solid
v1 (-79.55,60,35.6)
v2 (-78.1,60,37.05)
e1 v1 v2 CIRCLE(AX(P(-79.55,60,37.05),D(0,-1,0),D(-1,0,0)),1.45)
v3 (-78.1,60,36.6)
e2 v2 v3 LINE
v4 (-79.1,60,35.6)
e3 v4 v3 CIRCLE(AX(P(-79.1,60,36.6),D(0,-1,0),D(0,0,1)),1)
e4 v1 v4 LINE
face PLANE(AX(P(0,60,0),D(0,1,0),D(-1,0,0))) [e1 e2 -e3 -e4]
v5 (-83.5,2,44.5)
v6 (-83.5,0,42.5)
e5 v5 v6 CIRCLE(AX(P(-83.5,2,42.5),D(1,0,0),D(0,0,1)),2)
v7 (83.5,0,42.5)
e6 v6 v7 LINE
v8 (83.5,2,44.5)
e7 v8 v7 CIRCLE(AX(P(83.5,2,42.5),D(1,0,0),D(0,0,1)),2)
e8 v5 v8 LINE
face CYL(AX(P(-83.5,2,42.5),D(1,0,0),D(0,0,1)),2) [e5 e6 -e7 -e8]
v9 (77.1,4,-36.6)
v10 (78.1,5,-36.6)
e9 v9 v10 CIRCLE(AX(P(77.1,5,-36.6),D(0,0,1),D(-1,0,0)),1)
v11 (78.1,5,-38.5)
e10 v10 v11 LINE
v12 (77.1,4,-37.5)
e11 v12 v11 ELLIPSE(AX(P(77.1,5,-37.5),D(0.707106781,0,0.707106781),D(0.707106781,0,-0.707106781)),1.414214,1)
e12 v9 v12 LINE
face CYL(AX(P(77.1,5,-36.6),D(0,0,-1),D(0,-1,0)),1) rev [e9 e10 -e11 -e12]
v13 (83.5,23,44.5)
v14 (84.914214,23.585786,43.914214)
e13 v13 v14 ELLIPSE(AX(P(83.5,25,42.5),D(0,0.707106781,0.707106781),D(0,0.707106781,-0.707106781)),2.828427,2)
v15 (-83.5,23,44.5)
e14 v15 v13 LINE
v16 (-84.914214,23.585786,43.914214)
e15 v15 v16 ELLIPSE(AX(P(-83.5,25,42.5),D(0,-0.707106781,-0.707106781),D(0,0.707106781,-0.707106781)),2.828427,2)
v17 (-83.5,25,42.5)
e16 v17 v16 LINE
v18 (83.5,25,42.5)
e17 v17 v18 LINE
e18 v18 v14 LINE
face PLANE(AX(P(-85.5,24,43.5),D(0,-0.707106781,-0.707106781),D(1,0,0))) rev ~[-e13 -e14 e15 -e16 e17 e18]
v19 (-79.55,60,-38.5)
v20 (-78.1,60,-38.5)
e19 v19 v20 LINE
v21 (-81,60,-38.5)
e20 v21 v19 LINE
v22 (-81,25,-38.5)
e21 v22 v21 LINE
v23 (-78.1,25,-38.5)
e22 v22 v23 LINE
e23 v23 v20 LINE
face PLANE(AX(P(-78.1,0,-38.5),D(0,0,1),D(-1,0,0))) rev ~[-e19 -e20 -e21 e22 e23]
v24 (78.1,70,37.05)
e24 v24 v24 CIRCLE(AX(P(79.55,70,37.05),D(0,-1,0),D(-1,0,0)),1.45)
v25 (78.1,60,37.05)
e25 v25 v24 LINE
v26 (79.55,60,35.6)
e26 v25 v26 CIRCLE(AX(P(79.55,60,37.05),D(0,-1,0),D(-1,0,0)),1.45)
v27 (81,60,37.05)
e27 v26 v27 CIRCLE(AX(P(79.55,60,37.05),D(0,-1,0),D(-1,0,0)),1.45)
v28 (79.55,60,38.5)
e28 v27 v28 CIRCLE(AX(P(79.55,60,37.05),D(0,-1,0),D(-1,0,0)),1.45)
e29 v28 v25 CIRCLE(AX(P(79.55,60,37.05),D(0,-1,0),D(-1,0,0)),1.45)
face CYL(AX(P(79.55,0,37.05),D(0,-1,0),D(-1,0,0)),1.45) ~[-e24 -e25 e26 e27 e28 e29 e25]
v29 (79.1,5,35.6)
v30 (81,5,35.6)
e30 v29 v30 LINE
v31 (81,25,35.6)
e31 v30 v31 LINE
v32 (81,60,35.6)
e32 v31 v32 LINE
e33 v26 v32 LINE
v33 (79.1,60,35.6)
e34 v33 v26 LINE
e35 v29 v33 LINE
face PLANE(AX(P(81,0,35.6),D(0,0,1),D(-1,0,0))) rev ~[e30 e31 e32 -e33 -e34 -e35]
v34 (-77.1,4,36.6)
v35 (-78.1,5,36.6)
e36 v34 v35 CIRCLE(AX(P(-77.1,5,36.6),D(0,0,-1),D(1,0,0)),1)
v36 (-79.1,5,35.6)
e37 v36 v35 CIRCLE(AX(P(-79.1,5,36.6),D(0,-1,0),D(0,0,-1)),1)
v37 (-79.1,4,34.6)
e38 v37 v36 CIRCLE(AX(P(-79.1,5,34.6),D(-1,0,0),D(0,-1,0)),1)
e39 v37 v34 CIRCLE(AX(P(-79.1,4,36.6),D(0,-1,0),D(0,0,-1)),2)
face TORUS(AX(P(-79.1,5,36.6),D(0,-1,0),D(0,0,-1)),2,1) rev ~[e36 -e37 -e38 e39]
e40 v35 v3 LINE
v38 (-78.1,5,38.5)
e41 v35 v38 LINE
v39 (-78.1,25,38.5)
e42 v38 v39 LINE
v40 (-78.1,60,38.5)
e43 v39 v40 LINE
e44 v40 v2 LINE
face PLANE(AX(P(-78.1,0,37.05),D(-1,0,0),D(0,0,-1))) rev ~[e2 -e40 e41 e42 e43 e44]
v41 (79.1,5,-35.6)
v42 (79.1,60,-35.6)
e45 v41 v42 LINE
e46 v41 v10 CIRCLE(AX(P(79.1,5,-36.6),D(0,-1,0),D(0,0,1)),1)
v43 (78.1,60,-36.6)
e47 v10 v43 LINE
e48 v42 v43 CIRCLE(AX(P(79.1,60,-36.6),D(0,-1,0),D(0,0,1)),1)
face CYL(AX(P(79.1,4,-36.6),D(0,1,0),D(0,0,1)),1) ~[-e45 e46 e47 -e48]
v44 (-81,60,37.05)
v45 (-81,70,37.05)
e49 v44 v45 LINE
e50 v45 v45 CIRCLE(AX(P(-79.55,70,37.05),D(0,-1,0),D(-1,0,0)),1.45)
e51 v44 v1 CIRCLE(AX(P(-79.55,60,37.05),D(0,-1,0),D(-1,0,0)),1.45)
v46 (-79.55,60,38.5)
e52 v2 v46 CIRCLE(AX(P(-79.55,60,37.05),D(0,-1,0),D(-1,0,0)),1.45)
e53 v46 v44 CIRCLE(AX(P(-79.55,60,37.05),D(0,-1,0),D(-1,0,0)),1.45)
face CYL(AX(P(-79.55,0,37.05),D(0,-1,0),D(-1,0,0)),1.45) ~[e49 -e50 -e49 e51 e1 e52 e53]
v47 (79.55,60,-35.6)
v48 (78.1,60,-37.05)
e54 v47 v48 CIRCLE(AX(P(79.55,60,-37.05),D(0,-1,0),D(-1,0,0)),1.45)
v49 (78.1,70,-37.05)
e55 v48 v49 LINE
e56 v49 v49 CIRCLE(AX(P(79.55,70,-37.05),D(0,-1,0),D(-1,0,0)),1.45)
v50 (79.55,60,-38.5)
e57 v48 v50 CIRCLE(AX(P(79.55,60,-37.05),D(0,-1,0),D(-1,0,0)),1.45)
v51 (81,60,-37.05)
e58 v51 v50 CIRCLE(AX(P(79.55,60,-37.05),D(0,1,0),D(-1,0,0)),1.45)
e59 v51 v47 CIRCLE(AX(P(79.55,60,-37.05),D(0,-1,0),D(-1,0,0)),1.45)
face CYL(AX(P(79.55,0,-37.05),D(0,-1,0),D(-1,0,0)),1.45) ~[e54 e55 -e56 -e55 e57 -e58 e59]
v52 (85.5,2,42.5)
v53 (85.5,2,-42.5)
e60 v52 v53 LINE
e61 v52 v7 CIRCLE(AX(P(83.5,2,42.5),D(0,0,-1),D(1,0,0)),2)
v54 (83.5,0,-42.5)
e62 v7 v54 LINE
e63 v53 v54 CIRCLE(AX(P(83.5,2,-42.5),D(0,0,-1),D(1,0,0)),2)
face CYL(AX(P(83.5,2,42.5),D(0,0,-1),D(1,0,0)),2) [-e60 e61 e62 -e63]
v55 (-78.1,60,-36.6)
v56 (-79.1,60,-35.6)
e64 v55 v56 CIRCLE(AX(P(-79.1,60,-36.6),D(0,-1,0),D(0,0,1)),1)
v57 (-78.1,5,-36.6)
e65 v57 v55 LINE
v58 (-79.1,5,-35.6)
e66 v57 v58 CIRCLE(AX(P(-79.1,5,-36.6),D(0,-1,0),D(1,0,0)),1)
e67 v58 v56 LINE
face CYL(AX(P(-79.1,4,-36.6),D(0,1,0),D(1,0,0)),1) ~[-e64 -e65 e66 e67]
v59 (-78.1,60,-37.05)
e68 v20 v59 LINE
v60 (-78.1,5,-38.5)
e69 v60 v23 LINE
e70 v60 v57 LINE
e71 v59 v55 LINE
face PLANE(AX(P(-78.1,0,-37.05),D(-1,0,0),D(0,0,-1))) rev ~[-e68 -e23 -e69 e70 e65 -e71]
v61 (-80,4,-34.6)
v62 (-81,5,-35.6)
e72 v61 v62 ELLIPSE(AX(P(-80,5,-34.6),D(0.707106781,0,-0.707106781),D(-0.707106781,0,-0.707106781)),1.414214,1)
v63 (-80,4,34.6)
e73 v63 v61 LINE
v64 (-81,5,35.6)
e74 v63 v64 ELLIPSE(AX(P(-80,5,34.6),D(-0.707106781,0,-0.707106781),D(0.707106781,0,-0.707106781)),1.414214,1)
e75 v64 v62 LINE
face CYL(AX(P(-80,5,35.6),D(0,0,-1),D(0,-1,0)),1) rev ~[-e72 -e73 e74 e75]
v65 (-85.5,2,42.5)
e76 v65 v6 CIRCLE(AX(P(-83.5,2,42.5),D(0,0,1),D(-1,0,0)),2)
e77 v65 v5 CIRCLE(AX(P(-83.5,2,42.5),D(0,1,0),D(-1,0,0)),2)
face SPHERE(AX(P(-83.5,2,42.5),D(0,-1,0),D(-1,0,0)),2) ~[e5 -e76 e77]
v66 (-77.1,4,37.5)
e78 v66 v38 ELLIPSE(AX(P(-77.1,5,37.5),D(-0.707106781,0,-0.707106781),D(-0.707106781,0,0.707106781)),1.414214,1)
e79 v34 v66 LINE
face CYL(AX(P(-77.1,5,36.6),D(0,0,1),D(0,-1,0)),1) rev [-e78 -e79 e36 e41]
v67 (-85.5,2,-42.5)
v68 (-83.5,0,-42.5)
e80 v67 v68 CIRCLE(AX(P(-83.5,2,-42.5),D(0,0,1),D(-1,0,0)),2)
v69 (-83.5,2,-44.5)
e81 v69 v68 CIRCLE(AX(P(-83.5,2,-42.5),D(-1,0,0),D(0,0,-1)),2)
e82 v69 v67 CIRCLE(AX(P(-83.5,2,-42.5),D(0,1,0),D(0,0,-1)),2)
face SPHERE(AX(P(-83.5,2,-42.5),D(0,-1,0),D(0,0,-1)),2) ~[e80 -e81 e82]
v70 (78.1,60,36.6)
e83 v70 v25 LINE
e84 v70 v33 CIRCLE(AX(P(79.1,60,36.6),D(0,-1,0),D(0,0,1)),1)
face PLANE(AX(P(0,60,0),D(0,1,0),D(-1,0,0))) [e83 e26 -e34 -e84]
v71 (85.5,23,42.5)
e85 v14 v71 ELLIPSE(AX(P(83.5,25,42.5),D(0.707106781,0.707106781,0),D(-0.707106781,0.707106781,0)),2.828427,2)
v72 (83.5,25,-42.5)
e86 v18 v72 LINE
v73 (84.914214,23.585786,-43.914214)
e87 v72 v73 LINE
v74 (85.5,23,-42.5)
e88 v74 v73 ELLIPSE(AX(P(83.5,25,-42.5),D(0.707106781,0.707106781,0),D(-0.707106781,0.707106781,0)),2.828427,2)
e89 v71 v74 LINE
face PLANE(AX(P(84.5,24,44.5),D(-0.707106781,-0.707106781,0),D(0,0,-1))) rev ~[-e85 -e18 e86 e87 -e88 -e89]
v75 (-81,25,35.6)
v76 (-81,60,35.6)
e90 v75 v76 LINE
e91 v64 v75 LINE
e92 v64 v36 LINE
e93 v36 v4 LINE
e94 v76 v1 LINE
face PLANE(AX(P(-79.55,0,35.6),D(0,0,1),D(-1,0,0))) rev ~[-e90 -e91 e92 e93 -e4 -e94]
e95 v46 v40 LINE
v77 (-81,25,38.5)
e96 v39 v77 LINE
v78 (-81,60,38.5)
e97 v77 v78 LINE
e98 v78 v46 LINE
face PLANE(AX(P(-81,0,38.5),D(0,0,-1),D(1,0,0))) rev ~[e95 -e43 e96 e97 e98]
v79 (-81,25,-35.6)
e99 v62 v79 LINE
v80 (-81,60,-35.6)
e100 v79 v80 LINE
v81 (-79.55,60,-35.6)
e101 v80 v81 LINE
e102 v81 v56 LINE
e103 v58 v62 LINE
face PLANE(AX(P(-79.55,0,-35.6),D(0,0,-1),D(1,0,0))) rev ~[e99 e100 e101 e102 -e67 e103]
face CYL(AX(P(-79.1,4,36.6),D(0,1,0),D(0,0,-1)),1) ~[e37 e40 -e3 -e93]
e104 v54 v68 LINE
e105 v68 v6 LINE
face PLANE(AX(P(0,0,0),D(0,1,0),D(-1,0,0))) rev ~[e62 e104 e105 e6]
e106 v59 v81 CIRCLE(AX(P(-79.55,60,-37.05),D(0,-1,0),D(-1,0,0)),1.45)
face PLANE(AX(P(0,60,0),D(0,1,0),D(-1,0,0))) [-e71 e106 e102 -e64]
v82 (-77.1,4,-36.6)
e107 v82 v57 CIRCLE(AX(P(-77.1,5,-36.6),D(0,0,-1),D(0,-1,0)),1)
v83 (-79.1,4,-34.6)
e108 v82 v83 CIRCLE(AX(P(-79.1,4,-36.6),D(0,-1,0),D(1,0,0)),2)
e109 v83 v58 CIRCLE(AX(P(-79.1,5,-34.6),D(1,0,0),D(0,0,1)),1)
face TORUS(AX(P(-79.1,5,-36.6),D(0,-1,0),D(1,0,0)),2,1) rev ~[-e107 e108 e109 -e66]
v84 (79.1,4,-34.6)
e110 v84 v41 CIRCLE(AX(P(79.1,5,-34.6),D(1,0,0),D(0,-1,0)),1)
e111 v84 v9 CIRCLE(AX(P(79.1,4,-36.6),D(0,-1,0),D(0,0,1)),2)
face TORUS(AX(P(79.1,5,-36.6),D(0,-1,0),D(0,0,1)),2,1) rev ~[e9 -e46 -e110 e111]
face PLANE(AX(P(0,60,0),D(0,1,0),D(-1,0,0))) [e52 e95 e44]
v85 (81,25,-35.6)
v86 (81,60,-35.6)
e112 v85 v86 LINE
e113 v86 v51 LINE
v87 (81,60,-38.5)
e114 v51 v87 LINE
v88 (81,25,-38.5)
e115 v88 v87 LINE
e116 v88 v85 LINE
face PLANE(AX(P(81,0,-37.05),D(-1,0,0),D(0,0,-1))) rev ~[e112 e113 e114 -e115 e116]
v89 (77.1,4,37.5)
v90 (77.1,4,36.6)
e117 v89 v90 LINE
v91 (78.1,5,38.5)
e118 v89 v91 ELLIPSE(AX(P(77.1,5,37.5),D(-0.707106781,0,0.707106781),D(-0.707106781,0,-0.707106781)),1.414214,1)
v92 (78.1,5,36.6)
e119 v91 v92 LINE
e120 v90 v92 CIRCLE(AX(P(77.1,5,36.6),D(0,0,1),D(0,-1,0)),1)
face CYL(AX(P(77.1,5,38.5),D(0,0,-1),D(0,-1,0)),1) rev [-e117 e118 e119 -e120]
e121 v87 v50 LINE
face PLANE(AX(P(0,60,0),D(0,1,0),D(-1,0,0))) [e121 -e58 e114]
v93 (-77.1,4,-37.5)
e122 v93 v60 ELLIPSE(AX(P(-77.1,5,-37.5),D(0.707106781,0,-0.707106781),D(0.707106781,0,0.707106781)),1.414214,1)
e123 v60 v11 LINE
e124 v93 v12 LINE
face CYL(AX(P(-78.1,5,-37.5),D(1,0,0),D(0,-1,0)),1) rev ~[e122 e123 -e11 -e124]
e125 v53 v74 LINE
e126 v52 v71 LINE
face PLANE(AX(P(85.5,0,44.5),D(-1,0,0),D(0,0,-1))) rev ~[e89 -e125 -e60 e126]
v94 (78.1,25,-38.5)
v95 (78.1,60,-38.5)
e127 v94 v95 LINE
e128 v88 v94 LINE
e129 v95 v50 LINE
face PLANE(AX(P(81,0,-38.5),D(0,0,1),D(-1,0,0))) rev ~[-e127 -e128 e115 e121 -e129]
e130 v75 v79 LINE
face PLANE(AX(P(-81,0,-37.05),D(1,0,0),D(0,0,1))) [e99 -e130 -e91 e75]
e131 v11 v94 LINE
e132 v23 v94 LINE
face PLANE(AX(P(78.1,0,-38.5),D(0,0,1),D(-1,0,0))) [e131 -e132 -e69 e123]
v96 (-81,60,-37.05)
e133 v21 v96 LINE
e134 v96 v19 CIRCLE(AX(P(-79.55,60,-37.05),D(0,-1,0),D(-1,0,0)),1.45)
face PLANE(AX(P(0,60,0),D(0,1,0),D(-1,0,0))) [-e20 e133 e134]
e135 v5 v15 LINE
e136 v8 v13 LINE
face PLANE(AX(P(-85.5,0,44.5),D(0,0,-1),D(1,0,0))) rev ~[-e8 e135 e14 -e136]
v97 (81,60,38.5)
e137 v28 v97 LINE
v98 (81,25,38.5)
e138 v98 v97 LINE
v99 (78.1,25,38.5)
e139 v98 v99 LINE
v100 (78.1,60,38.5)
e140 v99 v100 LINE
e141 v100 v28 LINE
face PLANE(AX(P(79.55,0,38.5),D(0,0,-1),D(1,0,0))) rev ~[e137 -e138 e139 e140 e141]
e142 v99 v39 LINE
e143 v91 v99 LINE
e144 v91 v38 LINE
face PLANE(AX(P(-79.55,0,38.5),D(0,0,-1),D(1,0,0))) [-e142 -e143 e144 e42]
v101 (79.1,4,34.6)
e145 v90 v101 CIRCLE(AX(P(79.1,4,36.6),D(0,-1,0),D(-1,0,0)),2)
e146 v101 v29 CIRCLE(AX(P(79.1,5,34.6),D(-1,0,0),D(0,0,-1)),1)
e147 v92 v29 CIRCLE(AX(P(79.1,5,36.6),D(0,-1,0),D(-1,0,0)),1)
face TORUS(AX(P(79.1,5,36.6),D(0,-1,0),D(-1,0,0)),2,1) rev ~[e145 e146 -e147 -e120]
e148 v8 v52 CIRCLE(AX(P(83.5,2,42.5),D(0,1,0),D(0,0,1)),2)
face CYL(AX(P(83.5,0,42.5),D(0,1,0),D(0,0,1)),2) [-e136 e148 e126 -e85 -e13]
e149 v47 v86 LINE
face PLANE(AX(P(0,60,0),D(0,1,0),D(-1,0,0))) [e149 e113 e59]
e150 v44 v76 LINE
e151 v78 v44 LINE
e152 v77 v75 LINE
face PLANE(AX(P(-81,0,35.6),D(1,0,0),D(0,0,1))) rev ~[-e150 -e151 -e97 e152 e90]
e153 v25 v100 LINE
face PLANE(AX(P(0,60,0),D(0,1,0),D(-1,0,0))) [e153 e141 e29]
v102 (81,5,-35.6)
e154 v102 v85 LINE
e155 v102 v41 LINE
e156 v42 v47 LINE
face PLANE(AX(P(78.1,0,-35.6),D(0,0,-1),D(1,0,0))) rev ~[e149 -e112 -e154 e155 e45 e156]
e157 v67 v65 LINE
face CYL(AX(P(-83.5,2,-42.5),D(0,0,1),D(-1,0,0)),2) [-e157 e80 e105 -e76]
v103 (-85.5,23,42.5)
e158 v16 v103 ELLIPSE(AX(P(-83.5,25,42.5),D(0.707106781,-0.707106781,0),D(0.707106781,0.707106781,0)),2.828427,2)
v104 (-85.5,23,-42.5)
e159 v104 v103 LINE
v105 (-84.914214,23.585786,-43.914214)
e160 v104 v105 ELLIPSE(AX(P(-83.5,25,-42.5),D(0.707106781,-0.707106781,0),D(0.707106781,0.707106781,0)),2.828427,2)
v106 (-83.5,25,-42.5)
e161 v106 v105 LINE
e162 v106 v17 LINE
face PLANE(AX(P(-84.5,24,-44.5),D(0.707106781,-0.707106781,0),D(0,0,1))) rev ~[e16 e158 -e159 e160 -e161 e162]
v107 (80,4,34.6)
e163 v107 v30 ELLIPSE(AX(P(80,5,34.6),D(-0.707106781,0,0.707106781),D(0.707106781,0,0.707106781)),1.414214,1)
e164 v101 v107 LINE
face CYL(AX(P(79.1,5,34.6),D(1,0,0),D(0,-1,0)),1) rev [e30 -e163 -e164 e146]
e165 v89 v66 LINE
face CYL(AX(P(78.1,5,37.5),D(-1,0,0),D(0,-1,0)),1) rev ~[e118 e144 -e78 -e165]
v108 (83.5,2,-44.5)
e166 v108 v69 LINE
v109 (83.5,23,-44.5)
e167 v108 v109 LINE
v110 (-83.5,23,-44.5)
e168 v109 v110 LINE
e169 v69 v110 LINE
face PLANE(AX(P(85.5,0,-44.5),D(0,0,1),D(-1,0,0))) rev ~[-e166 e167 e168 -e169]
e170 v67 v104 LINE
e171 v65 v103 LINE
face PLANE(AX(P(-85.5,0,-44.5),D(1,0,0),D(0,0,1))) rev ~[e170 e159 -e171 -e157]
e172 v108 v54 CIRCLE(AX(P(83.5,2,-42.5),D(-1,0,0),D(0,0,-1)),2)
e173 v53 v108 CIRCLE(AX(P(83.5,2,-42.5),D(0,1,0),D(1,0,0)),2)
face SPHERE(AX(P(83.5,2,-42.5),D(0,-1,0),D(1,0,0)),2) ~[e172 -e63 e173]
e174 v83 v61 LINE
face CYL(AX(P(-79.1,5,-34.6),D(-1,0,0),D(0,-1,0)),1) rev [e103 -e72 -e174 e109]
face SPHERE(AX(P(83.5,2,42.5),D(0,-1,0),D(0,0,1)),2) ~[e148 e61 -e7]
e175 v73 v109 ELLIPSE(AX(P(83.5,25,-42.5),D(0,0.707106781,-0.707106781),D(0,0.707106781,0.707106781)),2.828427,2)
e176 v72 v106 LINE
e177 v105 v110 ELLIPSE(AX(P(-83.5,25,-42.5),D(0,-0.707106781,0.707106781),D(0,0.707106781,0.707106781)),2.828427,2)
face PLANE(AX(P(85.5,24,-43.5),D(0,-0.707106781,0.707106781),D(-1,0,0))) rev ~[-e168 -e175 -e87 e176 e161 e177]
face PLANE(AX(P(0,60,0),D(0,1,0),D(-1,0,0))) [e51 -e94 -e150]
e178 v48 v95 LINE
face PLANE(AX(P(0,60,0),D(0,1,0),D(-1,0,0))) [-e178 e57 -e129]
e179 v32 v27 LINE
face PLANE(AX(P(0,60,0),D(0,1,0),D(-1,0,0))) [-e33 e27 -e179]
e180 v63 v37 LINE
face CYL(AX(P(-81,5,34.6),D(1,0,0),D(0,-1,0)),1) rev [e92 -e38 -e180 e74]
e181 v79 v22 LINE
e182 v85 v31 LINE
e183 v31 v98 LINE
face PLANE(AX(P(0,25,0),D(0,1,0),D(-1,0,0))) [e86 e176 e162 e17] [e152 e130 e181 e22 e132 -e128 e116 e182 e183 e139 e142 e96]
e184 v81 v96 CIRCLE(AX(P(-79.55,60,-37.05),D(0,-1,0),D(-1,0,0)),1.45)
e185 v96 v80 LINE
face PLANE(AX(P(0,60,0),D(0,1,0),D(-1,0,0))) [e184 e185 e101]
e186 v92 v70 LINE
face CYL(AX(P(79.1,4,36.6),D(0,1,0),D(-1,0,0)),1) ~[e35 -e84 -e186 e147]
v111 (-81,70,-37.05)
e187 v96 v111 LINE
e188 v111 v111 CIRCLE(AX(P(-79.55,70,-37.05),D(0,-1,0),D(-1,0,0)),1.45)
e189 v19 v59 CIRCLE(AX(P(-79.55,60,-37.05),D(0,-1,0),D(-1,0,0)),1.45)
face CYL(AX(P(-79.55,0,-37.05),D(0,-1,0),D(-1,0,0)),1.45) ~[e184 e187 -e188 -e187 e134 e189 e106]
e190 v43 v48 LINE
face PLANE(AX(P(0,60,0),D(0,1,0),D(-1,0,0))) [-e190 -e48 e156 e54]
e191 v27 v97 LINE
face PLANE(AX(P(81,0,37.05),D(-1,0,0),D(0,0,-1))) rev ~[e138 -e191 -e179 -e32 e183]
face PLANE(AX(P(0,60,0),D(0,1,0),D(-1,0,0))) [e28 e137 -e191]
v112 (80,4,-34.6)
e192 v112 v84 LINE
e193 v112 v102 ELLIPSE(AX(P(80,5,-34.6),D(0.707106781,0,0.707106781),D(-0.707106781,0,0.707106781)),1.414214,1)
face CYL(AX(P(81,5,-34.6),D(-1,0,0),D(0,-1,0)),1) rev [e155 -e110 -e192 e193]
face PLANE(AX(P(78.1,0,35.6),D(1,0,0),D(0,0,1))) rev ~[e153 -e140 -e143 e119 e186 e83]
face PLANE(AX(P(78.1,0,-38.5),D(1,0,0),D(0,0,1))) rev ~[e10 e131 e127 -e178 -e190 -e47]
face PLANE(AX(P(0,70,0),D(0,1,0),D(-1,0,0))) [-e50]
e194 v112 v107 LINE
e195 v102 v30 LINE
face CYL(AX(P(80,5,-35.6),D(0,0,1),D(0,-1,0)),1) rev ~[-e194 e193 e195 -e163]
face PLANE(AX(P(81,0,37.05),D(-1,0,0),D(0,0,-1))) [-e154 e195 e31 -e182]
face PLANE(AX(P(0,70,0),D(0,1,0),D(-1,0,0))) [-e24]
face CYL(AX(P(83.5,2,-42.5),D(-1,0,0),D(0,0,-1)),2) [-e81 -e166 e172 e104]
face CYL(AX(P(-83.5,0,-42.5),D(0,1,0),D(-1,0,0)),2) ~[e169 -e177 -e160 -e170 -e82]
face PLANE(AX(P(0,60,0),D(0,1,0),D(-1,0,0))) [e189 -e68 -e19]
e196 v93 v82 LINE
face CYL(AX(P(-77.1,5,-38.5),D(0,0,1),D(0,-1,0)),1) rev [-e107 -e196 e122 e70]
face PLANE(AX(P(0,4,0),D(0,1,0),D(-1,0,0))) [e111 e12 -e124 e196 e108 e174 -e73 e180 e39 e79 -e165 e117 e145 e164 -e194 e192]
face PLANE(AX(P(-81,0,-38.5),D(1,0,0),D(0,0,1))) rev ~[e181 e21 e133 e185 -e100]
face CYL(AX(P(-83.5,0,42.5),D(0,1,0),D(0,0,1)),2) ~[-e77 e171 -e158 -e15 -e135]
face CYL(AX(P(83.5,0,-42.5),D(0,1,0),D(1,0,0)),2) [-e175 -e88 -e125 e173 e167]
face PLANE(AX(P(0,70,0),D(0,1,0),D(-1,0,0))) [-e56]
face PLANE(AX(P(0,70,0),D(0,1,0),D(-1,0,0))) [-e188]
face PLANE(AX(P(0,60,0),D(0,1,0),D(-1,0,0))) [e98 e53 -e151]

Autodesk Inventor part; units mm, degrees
ref_plane "YZ Plane" through (0, 0, 0) normal (1, 0, 0) x (0, 1, 0)
ref_plane "XZ Plane" through (0, 0, 0) normal (0, 1, 0) x (-1, 0, 0)
ref_plane "XY Plane" through (0, 0, 0) normal (0, 0, 1) x (1, 0, 0)
sketch "Sketch1" plane through (0, 0, 0) normal (0, 1, 0) x (-1, 0, 0)
  line L0 (-85.5, -44.5) -> (85.5, -44.5)
  line L1 (85.5, -44.5) -> (85.5, 44.5)
  line L2 (85.5, 44.5) -> (-85.5, 44.5)
  line L3 (-85.5, 44.5) -> (-85.5, -44.5)
  line L4 (-85.5, -44.5) -> (85.5, 44.5) construction
  line L5 (85.5, -44.5) -> (-85.5, 44.5) construction
  line L6 (-81, -38.5) -> (81, -38.5)
  line L7 (81, -38.5) -> (81, 38.5)
  line L8 (81, 38.5) -> (-81, 38.5)
  line L9 (-81, 38.5) -> (-81, -38.5)
  line L10 (-81, -38.5) -> (81, 38.5) construction
  line L11 (81, -38.5) -> (-81, 38.5) construction
  line L12 (81, 38.5) -> (79.55, 38.5)
  line L13 (81, 37.05) -> (81, 38.5)
  circle A0 centre (79.55, 37.05) radius 1.45
  circle A1 centre (79.55, -37.05) radius 1.45
  circle A2 centre (-79.55, -37.05) radius 1.45
  circle A3 centre (-79.55, 37.05) radius 1.45
  line L14 (81, 38.5) -> (78.1, 38.5)
  line L15 (78.1, 38.5) -> (78.1, 35.6)
  line L16 (78.1, 35.6) -> (81, 35.6)
  line L17 (81, 35.6) -> (81, 38.5)
  line L18 (81, 38.5) -> (78.1, 35.6) construction
  line L19 (78.1, 38.5) -> (81, 35.6) construction
  line L20 (81, -35.6) -> (78.1, -35.6)
  line L21 (78.1, -35.6) -> (78.1, -38.5)
  line L22 (78.1, -38.5) -> (81, -38.5)
  line L23 (81, -38.5) -> (81, -35.6)
  line L24 (81, -35.6) -> (78.1, -38.5) construction
  line L25 (78.1, -35.6) -> (81, -38.5) construction
  line L26 (-78.1, -35.6) -> (-81, -35.6)
  line L27 (-81, -35.6) -> (-81, -38.5)
  line L28 (-81, -38.5) -> (-78.1, -38.5)
  line L29 (-78.1, -38.5) -> (-78.1, -35.6)
  line L30 (-78.1, -35.6) -> (-81, -38.5) construction
  line L31 (-81, -35.6) -> (-78.1, -38.5) construction
  line L32 (-78.1, 38.5) -> (-81, 38.5)
  line L33 (-81, 38.5) -> (-81, 35.6)
  line L34 (-81, 35.6) -> (-78.1, 35.6)
  line L35 (-78.1, 35.6) -> (-78.1, 38.5)
  line L36 (-78.1, 38.5) -> (-81, 35.6) construction
  line L37 (-81, 38.5) -> (-78.1, 35.6) construction
  point P0 (0, 0)
  point P1 (-79.55, 38.5)
  point P2 (-81, 37.05)
  point P3 (-81, -37.05)
  point P4 (-79.55, -38.5)
  point P5 (79.55, -38.5)
  point P6 (81, -37.05)
  dimension "d0" = 171
  dimension "d1" = 89
  dimension "d2" = 162
  dimension "d3" = 77
  dimension "d7" = 2.9
  dimension "d8" = 2.9
  dimension "d9" = 2.9
  dimension "d10" = 2.9
extrude "Extrusion1" add sketch "Sketch1" along normal blind 70 contours A2 | A1 | A3 | A0
extrude "Extrusion2" add sketch "Sketch1" along normal blind 4 contours L29 L26 L9 L34 L35 L8 L15 L16 L7 L20 L21 L6 | L6 A2 L29 | L21 A1 L6 | A2 L26 L29 | L21 L20 A1 | L9 L26 A2 | A1 L20 L7 | L9 A3 L34 | L16 A0 L7 | A3 L35 L34 | L16 L15 A0 | L8 L35 A3 | A0 L15 L8
extrude "Extrusion3" add sketch "Sketch1" along normal blind 25
extrude "Extrusion4" add sketch "Sketch1" along normal blind 60 contours L6 L9 A2
extrude "Extrusion5" add sketch "Sketch1" along normal blind 60 contours L6 A2 L29 | L6 L9 A2 | A2 | A2 L26 L29 | L9 L26 A2
extrude "Extrusion6" add sketch "Sketch1" along normal blind 60 contours L9 A3 L34 | L9 L8 A3 | A3 | A3 L35 L34 | L8 L35 A3
extrude "Extrusion7" add sketch "Sketch1" along normal blind 60 contours L16 A0 L7 | A0 L8 L7 | A0 | L16 L15 A0 | A0 L15 L8
extrude "Extrusion8" add sketch "Sketch1" along normal blind 60 contours L21 A1 L6 | A1 L7 L6 | A1 | L21 L20 A1 | A1 L20 L7
fillet "Fillet1" radius 1 1 edges at (-78.1, 32, -35.6)
fillet "Fillet2" radius 1 1 edges at (-78.1, 32, 35.6)
fillet "Fillet3" radius 1 1 edges at (78.1, 32, 35.6)
fillet "Fillet4" radius 1 1 edges at (78.1, 32, -35.6)
fillet "Fillet5" radius 1 16 edges at (-81, 4, 0) (-78.1, 4, -37.55) (-80.05, 4, -35.6) (-78.3929, 4, -35.8929) (0, 4, -38.5) (0, 4, 38.5) (-78.3929, 4, 35.8929) (-80.05, 4, 35.6) (-78.1, 4, 37.55) (80.05, 4, -35.6) (78.1, 4, -37.55) (78.3929, 4, -35.8929) (81, 4, 0) (78.3929, 4, 35.8929) (80.05, 4, 35.6) (78.1, 4, 37.55)
chamfer "Chamfer1" distance 2 angle 45 4 edges at (0, 25, 44.5) (85.5, 25, 0) (0, 25, -44.5) (-85.5, 25, 0)
fillet "Fillet6" radius 2 1 edges at (85.5, 11.5, 44.5)
fillet "Fillet7" radius 2 1 edges at (85.5, 11.5, -44.5)
fillet "Fillet8" radius 2 1 edges at (-85.5, 11.5, 44.5)
fillet "Fillet9" radius 2 1 edges at (-85.5, 11.5, -44.5)
fillet "Fillet10" radius 2 4 edges at (-85.5, 0, 0) (0, 0, 44.5) (85.5, 0, 0) (0, 0, -44.5)
properties part number "Buggy_Body"
